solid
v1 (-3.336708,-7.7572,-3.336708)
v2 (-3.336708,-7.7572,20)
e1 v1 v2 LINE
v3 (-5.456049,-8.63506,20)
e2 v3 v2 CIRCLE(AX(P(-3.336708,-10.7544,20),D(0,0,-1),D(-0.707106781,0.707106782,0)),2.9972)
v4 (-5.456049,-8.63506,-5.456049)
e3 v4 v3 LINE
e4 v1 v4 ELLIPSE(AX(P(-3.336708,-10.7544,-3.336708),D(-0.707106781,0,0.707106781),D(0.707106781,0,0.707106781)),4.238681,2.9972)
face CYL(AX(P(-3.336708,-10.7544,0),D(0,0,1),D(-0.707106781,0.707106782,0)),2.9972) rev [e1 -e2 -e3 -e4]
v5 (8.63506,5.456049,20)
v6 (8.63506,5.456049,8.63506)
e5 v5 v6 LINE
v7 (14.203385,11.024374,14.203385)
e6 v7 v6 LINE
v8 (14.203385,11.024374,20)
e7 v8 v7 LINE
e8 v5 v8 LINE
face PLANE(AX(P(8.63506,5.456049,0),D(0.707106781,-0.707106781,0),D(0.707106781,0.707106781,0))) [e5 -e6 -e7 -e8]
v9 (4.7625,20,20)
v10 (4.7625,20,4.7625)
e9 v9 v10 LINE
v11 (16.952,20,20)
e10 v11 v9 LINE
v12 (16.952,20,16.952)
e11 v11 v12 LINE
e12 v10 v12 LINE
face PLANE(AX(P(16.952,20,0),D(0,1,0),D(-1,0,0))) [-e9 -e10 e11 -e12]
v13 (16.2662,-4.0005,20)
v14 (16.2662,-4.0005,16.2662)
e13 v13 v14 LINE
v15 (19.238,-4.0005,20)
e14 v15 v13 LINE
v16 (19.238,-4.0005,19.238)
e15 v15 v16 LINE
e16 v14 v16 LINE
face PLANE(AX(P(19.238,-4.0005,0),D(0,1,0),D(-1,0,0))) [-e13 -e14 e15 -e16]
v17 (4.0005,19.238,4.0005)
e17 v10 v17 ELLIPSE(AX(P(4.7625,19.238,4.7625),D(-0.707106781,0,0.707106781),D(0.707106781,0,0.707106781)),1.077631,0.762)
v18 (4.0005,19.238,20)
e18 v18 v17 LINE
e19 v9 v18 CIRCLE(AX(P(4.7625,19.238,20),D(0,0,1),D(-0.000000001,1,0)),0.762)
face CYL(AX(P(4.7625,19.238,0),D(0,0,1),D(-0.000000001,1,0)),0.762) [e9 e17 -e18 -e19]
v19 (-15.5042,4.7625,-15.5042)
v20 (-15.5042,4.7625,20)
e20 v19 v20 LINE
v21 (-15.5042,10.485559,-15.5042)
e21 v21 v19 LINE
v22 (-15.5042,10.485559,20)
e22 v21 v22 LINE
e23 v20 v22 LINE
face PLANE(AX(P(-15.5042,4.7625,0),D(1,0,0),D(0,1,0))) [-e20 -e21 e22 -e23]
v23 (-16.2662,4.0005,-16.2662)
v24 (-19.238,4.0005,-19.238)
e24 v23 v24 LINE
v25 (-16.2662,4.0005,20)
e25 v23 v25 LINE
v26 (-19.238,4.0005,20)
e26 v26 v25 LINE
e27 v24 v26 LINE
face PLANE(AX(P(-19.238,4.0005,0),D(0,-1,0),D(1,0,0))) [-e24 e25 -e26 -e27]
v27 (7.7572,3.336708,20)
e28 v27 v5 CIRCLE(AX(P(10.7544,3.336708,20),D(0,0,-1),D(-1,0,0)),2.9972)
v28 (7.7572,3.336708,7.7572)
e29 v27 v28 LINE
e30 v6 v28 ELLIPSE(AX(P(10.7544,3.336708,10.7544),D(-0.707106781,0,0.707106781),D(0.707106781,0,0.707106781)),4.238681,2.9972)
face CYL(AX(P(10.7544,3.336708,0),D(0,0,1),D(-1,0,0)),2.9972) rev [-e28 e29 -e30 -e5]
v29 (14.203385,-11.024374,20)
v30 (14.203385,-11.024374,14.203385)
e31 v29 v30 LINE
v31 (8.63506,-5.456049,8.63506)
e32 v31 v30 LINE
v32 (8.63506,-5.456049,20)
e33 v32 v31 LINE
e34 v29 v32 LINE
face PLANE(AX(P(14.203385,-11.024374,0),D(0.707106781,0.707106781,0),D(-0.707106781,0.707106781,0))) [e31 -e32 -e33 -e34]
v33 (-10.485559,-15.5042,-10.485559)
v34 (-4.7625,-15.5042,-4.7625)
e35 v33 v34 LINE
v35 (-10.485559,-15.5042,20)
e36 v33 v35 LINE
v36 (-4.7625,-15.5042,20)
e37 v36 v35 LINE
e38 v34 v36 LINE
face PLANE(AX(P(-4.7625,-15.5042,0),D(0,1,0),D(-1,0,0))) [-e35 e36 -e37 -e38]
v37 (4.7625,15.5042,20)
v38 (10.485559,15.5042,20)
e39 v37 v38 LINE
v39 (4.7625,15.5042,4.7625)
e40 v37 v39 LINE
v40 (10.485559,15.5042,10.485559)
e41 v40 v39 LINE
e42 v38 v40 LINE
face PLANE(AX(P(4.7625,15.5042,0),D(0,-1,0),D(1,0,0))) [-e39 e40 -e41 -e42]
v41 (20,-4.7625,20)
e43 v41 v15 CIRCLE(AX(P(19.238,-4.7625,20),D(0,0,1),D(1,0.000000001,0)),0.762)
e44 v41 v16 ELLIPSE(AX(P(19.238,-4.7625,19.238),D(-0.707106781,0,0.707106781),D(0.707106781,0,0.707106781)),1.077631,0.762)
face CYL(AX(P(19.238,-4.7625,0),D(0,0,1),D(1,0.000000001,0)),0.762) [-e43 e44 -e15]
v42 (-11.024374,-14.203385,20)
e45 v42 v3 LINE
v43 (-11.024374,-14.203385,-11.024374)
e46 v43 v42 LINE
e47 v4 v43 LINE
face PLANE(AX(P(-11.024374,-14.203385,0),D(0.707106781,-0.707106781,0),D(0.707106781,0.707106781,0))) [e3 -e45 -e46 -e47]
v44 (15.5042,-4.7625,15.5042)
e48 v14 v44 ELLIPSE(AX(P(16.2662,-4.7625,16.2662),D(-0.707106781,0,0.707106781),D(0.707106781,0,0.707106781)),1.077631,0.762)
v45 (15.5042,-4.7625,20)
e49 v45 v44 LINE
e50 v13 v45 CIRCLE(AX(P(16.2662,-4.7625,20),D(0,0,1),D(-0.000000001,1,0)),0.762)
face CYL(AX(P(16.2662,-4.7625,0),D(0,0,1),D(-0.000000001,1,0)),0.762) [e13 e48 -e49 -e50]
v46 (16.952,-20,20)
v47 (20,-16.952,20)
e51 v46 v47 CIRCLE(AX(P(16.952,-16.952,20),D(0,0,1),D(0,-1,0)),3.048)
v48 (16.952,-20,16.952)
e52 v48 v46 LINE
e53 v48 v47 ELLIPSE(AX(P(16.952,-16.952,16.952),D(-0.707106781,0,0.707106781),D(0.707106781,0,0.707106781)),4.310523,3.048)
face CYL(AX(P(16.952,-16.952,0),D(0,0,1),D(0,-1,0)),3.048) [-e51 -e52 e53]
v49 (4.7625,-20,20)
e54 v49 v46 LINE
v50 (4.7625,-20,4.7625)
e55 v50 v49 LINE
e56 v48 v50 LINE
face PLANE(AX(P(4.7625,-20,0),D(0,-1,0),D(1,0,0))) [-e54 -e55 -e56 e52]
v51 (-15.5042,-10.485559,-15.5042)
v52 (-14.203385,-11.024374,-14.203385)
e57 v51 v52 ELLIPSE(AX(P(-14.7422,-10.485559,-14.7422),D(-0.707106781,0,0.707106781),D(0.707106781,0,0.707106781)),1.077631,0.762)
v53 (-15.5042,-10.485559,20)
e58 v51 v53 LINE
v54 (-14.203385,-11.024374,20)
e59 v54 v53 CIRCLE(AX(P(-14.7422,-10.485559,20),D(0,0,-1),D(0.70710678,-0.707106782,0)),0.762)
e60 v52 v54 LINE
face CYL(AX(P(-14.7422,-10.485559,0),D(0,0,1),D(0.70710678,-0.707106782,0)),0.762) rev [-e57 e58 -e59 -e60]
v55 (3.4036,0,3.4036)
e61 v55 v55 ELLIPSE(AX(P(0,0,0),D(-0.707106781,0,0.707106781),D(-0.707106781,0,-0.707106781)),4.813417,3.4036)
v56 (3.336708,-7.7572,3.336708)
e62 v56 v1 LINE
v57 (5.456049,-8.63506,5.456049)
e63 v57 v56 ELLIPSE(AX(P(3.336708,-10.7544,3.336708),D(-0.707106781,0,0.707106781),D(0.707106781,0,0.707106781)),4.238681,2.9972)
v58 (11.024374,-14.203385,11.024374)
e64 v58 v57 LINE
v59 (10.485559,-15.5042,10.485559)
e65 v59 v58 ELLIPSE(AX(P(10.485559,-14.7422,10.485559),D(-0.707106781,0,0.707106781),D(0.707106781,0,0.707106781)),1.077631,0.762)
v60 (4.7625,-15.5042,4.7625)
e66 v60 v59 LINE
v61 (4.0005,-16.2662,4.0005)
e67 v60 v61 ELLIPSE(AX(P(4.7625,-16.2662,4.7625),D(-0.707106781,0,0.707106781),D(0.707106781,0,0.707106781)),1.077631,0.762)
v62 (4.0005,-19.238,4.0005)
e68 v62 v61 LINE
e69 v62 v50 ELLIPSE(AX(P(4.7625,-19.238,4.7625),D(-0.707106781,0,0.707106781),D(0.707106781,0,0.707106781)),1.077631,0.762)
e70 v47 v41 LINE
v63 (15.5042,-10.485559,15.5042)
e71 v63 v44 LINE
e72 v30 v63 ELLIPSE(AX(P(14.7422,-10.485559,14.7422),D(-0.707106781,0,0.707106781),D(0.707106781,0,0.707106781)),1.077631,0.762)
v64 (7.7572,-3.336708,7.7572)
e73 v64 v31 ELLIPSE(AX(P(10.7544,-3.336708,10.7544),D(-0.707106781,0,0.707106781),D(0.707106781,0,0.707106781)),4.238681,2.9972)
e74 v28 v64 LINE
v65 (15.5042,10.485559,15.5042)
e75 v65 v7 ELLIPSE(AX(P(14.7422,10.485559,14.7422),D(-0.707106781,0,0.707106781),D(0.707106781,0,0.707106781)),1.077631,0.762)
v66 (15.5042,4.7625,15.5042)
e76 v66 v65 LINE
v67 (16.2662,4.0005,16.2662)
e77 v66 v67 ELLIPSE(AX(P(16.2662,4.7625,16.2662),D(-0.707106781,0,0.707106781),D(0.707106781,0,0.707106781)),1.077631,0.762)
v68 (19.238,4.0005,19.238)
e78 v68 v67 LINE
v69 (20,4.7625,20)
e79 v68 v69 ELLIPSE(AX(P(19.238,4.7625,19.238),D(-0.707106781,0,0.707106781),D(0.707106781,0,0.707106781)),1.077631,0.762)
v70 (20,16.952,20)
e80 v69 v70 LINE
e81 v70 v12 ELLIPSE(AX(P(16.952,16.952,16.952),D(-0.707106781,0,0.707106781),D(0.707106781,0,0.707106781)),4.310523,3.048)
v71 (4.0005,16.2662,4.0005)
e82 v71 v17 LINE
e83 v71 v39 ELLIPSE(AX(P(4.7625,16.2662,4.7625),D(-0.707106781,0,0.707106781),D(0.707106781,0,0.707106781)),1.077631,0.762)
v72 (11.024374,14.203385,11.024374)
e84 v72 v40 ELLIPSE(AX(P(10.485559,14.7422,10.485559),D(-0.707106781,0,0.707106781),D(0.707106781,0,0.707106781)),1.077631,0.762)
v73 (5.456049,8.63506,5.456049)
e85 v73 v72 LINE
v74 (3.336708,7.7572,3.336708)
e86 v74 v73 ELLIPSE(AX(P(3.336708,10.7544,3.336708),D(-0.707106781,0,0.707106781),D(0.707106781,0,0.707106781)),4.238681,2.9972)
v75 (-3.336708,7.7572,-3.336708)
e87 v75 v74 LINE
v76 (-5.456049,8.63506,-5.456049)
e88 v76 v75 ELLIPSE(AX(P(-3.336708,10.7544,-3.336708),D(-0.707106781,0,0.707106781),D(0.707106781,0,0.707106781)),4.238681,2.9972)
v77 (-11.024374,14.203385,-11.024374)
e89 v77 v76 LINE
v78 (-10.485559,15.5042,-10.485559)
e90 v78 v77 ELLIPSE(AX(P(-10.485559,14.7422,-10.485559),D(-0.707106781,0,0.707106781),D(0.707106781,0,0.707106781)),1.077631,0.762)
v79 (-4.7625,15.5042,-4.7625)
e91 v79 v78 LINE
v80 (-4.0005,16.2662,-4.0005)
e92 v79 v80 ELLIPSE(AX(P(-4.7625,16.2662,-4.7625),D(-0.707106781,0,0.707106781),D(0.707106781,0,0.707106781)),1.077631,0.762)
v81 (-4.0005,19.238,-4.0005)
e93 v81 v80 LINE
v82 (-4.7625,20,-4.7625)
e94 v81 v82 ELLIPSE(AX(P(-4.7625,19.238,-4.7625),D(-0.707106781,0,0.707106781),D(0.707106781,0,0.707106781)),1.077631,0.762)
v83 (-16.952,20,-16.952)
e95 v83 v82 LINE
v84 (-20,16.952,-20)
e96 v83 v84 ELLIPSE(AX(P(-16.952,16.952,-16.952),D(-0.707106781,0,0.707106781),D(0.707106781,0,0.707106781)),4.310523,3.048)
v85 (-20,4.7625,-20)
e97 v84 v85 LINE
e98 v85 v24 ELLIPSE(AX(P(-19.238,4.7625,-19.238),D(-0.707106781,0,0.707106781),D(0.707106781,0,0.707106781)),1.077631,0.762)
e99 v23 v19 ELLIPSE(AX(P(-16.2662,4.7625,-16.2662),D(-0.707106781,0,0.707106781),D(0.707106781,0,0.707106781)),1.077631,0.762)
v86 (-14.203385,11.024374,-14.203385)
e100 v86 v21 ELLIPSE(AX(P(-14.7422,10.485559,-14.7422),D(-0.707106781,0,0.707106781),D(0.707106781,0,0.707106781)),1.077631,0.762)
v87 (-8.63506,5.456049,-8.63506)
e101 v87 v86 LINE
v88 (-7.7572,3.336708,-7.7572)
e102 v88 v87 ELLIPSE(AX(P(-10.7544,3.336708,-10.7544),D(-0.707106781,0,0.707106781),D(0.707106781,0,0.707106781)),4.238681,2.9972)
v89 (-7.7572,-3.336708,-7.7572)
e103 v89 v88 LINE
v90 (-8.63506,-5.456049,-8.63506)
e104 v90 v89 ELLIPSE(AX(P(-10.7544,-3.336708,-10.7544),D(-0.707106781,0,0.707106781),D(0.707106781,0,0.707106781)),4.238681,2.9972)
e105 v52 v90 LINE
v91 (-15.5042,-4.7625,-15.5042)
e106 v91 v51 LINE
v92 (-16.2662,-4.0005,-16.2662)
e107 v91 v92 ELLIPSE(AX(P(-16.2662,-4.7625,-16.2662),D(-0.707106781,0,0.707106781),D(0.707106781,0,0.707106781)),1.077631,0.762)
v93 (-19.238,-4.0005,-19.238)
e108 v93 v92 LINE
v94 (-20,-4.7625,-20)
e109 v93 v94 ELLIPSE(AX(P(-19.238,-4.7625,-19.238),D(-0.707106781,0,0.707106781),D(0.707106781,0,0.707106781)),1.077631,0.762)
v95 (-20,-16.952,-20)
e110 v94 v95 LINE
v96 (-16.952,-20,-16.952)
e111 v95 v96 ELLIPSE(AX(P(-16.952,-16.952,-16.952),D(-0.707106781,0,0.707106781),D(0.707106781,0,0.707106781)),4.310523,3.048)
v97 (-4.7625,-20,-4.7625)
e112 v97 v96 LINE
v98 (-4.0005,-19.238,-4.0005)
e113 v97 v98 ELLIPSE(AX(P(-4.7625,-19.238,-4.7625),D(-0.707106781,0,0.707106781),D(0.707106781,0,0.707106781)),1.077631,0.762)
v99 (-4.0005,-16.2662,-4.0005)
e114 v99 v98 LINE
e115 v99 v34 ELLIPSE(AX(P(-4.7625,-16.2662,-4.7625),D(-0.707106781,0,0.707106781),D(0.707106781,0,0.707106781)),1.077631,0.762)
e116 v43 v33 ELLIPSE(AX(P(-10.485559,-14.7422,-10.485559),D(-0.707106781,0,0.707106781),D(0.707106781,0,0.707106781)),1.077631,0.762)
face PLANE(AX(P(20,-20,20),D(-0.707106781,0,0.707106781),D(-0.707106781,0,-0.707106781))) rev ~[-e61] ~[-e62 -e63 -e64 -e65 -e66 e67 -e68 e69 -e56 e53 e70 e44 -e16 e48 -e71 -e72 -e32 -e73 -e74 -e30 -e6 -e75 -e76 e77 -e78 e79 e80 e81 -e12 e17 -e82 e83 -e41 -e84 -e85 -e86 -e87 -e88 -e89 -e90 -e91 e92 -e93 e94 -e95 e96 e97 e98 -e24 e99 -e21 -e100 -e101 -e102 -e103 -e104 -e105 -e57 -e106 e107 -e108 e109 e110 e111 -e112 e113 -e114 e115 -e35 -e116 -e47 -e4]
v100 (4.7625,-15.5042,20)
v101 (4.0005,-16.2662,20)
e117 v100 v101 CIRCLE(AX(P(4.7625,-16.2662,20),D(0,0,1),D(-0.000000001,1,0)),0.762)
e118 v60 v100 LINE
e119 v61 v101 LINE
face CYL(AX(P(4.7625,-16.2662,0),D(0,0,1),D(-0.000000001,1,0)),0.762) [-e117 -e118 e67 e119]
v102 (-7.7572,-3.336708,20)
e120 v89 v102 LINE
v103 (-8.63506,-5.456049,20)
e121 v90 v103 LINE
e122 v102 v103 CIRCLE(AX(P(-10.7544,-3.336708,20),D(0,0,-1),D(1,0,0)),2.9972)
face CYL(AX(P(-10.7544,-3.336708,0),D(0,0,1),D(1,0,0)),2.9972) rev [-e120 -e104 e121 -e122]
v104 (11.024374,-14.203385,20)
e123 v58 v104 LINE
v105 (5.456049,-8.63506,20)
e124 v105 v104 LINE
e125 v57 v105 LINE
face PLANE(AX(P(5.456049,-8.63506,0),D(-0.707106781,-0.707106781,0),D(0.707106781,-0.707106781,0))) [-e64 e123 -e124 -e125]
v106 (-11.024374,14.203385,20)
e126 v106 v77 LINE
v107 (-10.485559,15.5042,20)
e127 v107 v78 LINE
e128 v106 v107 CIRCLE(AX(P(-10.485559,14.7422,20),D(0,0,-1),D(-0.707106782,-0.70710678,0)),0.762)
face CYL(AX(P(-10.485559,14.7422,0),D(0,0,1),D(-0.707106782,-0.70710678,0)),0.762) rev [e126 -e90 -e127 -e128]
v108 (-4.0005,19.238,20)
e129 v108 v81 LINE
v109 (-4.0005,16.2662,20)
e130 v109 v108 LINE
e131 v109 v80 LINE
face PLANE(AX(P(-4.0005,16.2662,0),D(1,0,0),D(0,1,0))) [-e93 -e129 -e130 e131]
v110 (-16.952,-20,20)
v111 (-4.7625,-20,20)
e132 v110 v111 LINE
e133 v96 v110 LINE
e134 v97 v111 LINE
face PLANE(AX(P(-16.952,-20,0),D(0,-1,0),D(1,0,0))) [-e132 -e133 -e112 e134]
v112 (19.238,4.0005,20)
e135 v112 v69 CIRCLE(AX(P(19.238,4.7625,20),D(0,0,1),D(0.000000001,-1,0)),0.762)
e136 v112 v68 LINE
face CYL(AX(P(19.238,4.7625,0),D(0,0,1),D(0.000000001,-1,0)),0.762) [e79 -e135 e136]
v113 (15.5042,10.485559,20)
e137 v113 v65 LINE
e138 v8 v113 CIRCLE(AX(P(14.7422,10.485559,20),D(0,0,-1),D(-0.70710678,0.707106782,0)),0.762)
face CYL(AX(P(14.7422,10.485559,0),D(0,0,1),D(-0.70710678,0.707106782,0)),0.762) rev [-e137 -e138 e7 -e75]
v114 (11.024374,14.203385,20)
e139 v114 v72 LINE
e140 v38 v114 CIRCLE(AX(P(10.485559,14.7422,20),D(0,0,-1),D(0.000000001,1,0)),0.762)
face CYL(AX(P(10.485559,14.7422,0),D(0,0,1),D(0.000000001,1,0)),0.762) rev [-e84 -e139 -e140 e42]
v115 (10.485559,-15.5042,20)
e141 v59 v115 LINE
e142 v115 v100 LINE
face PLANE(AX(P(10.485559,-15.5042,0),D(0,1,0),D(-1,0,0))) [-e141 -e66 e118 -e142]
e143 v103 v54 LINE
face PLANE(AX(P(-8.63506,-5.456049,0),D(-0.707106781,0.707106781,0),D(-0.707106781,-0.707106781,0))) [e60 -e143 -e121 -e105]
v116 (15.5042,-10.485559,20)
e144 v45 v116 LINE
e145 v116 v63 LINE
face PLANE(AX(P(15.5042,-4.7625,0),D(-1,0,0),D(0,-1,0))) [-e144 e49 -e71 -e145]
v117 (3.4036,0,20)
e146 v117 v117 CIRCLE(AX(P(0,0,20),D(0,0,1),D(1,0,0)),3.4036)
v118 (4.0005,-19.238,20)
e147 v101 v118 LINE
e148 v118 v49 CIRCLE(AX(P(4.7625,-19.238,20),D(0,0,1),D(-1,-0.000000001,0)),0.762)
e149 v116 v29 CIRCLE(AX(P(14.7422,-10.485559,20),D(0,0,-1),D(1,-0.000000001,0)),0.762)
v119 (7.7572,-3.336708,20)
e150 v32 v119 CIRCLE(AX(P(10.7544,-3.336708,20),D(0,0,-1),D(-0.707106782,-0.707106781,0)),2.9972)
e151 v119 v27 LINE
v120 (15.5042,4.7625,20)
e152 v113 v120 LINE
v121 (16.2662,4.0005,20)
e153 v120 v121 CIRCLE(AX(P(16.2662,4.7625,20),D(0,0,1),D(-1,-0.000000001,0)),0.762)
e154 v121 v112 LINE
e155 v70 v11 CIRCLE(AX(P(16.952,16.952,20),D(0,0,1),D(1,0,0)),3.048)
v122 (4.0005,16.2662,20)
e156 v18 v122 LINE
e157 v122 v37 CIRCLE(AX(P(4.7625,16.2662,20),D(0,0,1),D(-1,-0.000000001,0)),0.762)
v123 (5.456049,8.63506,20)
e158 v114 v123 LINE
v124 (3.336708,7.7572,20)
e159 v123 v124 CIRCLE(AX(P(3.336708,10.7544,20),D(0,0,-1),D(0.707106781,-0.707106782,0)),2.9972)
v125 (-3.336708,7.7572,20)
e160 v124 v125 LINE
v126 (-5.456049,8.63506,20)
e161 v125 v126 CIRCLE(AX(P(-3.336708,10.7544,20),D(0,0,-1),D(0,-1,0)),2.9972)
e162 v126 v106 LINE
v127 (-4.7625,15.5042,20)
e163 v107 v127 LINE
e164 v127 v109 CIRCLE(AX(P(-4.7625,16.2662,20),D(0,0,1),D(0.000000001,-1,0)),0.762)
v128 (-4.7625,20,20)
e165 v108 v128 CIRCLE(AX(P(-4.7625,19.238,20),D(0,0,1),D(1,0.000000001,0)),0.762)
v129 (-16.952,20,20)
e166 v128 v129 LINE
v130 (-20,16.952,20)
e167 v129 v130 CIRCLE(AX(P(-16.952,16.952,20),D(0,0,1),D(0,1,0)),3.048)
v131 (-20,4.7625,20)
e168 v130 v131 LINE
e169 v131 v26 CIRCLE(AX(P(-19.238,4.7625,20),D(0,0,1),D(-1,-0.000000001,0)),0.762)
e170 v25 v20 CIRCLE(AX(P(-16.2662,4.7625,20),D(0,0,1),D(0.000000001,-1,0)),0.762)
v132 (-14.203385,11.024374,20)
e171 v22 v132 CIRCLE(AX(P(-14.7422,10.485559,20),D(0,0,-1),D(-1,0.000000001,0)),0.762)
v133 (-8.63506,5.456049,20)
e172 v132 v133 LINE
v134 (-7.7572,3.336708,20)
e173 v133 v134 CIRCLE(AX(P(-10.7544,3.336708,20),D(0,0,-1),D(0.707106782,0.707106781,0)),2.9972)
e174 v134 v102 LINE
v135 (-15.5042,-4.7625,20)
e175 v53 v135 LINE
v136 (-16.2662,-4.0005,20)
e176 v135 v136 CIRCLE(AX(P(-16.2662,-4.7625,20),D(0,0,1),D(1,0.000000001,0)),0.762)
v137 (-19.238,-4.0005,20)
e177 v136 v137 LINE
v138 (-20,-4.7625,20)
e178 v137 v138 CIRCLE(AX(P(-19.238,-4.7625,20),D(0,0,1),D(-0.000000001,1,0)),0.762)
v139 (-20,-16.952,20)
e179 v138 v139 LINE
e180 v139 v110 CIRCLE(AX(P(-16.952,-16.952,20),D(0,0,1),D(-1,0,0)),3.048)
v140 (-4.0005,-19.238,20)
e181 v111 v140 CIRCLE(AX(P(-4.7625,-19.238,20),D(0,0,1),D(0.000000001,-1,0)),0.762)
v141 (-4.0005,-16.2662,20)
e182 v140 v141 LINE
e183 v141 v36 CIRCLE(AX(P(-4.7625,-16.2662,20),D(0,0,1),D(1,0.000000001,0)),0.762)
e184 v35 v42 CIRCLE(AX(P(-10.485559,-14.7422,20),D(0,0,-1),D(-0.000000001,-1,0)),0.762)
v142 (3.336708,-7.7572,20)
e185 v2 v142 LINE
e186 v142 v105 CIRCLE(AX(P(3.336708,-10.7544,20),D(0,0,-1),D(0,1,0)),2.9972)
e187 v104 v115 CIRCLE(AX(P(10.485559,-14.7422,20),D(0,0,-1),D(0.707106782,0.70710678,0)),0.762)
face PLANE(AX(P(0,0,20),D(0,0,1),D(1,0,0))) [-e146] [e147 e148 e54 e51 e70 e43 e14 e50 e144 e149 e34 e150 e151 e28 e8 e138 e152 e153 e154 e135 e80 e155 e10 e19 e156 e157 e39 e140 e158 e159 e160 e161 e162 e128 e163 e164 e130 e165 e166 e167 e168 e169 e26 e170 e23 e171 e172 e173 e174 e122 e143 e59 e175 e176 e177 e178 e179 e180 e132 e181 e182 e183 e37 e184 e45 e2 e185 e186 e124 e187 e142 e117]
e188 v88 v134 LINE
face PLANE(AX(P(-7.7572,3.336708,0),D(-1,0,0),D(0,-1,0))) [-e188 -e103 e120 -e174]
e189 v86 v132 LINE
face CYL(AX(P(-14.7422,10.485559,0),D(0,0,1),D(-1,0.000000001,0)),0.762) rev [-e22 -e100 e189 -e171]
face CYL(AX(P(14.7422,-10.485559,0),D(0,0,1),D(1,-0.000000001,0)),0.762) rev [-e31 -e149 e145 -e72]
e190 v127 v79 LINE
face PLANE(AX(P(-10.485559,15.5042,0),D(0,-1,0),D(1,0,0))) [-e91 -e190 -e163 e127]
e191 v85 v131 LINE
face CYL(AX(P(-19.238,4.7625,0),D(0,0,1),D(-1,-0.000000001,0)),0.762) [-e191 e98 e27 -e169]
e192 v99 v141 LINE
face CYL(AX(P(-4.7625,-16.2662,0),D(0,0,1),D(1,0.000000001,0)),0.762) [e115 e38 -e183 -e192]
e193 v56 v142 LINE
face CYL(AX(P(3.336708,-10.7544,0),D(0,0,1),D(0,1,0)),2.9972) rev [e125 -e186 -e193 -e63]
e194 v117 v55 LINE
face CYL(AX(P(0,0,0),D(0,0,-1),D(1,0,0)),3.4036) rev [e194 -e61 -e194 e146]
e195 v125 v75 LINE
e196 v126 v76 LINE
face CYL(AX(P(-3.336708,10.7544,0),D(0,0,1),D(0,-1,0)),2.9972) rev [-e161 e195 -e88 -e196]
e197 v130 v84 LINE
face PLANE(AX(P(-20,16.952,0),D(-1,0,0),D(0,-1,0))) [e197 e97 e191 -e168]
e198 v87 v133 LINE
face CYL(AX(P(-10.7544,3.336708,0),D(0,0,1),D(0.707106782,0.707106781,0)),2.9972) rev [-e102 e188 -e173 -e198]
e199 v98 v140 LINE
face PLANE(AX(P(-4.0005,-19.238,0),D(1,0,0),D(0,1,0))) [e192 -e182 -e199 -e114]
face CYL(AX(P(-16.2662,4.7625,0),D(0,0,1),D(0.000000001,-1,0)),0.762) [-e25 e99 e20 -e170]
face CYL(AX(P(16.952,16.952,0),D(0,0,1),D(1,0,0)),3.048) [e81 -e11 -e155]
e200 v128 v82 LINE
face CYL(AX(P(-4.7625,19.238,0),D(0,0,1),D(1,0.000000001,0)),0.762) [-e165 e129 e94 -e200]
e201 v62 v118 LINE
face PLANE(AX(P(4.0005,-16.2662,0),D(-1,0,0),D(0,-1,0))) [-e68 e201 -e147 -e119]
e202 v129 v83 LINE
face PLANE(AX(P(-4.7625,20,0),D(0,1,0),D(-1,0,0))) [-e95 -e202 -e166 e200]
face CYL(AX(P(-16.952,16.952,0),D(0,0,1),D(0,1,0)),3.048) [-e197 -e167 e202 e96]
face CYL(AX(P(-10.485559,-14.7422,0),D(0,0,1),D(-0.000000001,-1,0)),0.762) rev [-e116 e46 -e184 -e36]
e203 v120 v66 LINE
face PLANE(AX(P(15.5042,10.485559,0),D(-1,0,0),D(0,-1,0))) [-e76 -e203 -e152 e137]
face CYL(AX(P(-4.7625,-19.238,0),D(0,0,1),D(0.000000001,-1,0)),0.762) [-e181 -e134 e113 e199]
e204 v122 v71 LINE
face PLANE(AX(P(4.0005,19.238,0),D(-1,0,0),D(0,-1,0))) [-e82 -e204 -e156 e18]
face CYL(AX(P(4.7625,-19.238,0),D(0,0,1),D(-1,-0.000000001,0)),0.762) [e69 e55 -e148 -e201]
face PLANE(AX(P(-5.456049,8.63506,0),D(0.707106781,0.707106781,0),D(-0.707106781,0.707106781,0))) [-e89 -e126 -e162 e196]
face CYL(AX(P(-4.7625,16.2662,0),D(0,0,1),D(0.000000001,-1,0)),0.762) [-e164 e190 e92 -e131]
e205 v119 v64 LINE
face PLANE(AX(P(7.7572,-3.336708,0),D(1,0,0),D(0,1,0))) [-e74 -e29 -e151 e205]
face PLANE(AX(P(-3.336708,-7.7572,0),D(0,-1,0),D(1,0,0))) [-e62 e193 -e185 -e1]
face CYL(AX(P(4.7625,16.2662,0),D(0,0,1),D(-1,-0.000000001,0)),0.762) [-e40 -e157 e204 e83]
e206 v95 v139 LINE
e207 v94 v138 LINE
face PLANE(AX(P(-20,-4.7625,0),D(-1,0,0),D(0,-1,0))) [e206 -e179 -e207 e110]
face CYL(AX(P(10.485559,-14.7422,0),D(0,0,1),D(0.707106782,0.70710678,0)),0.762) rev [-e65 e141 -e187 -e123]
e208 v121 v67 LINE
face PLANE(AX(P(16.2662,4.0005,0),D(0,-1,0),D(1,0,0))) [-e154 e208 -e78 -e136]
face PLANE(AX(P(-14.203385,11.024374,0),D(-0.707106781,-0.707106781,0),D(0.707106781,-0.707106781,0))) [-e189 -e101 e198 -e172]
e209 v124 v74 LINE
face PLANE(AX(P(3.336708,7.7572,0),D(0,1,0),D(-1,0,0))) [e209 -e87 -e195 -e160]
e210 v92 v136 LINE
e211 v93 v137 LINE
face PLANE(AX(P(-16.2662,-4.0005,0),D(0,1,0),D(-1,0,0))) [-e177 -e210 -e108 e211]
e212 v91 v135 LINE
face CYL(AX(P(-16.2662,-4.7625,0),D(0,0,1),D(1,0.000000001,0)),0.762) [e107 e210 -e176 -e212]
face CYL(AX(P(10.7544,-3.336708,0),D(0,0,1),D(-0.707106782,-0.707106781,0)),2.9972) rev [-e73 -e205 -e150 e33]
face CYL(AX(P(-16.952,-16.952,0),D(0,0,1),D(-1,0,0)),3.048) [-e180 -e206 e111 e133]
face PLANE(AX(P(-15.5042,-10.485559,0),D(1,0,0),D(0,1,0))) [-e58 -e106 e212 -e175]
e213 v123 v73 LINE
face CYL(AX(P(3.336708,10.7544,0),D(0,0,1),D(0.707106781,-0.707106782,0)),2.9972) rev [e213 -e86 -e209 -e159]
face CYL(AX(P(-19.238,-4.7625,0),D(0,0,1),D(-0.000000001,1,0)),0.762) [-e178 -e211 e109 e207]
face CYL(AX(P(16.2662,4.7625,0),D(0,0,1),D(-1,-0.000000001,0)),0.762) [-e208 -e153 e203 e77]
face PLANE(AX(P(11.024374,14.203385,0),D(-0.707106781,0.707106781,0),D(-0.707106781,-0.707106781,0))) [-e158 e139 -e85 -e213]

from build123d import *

# Parameters (mm, degrees)
SKETCH1_R          = 3.4036
EXTRUDE1_DEPTH     = 20
CUT_EXTRUDE1_DEPTH = 49.989794856


with BuildPart() as part:
    # Sketch1 → Extrude1 (new, symmetric)
    with BuildSketch(Plane.XY):
        with BuildLine():
            Line((-20, 16.952), (-20, 4.7625))
            ThreePointArc((-20, 4.7625), (-19.776815367, 4.223684633), (-19.238, 4.0005))
            Line((-19.238, 4.0005), (-16.2662, 4.0005))
            ThreePointArc((-16.2662, 4.0005), (-15.727384633, 4.223684633), (-15.5042, 4.7625))
            Line((-15.5042, 4.7625), (-15.5042, 10.485558599))
            ThreePointArc((-15.5042, 10.485558599), (-15.033804775, 11.189554802), (-14.203384633, 11.024373966))
            Line((-14.203384633, 11.024373966), (-8.635059555, 5.456048889))
            ThreePointArc((-8.635059555, 5.456048889), (-7.985348265, 4.483687227), (-7.7572, 3.336708444))
            Line((-7.7572, 3.336708444), (-7.7572, -3.336708444))
            ThreePointArc((-7.7572, -3.336708444), (-7.985348265, -4.483687227), (-8.635059555, -5.456048889))
            Line((-8.635059555, -5.456048889), (-14.203384633, -11.024373966))
            ThreePointArc((-14.203384633, -11.024373966), (-15.033804775, -11.189554802), (-15.5042, -10.485558599))
            Line((-15.5042, -10.485558599), (-15.5042, -4.7625))
            ThreePointArc((-15.5042, -4.7625), (-15.727384633, -4.223684633), (-16.2662, -4.0005))
            Line((-16.2662, -4.0005), (-19.238, -4.0005))
            ThreePointArc((-19.238, -4.0005), (-19.776815367, -4.223684633), (-20, -4.7625))
            Line((-20, -4.7625), (-20, -16.952))
            ThreePointArc((-20, -16.952), (-19.107261469, -19.107261469), (-16.952, -20))
            Line((-16.952, -20), (-4.7625, -20))
            ThreePointArc((-4.7625, -20), (-4.223684633, -19.776815367), (-4.0005, -19.238))
            Line((-4.0005, -19.238), (-4.0005, -16.2662))
            ThreePointArc((-4.0005, -16.2662), (-4.223684633, -15.727384633), (-4.7625, -15.5042))
            Line((-4.7625, -15.5042), (-10.485558599, -15.5042))
            ThreePointArc((-10.485558599, -15.5042), (-11.189554802, -15.033804775), (-11.024373966, -14.203384633))
            Line((-11.024373966, -14.203384633), (-5.456048889, -8.635059555))
            ThreePointArc((-5.456048889, -8.635059555), (-4.483687227, -7.985348265), (-3.336708444, -7.7572))
            Line((-3.336708444, -7.7572), (3.336708444, -7.7572))
            ThreePointArc((3.336708444, -7.7572), (4.483687227, -7.985348265), (5.456048889, -8.635059555))
            Line((5.456048889, -8.635059555), (11.024373966, -14.203384633))
            ThreePointArc((11.024373966, -14.203384633), (11.189554802, -15.033804775), (10.485558599, -15.5042))
            Line((10.485558599, -15.5042), (4.7625, -15.5042))
            ThreePointArc((4.7625, -15.5042), (4.223684633, -15.727384633), (4.0005, -16.2662))
            Line((4.0005, -16.2662), (4.0005, -19.238))
            ThreePointArc((4.0005, -19.238), (4.223684633, -19.776815367), (4.7625, -20))
            Line((4.7625, -20), (16.952, -20))
            ThreePointArc((16.952, -20), (19.107261469, -19.107261469), (20, -16.952))
            Line((20, -16.952), (20, -4.7625))
            ThreePointArc((20, -4.7625), (19.776815367, -4.223684633), (19.238, -4.0005))
            Line((19.238, -4.0005), (16.2662, -4.0005))
            ThreePointArc((16.2662, -4.0005), (15.727384633, -4.223684633), (15.5042, -4.7625))
            Line((15.5042, -4.7625), (15.5042, -10.485558599))
            ThreePointArc((15.5042, -10.485558599), (15.033804775, -11.189554802), (14.203384633, -11.024373966))
            Line((14.203384633, -11.024373966), (8.635059555, -5.456048889))
            ThreePointArc((8.635059555, -5.456048889), (7.985348265, -4.483687227), (7.7572, -3.336708444))
            Line((7.7572, -3.336708444), (7.7572, 3.336708444))
            ThreePointArc((7.7572, 3.336708444), (7.985348265, 4.483687227), (8.635059555, 5.456048889))
            Line((8.635059555, 5.456048889), (14.203384633, 11.024373966))
            ThreePointArc((14.203384633, 11.024373966), (15.033804775, 11.189554802), (15.5042, 10.485558599))
            Line((15.5042, 10.485558599), (15.5042, 4.7625))
            ThreePointArc((15.5042, 4.7625), (15.727384633, 4.223684633), (16.2662, 4.0005))
            Line((16.2662, 4.0005), (19.238, 4.0005))
            ThreePointArc((19.238, 4.0005), (19.776815367, 4.223684633), (20, 4.7625))
            Line((20, 4.7625), (20, 16.952))
            ThreePointArc((20, 16.952), (19.107261469, 19.107261469), (16.952, 20))
            Line((16.952, 20), (4.7625, 20))
            ThreePointArc((4.7625, 20), (4.223684633, 19.776815367), (4.0005, 19.238))
            Line((4.0005, 19.238), (4.0005, 16.2662))
            ThreePointArc((4.0005, 16.2662), (4.223684633, 15.727384633), (4.7625, 15.5042))
            Line((4.7625, 15.5042), (10.485558599, 15.5042))
            ThreePointArc((10.485558599, 15.5042), (11.189554802, 15.033804775), (11.024373966, 14.203384633))
            Line((11.024373966, 14.203384633), (5.456048889, 8.635059555))
            ThreePointArc((5.456048889, 8.635059555), (4.483687227, 7.985348265), (3.336708444, 7.7572))
            Line((3.336708444, 7.7572), (-3.336708444, 7.7572))
            ThreePointArc((-3.336708444, 7.7572), (-4.483687227, 7.985348265), (-5.456048889, 8.635059555))
            Line((-5.456048889, 8.635059555), (-11.024373966, 14.203384633))
            ThreePointArc((-11.024373966, 14.203384633), (-11.189554802, 15.033804775), (-10.485558599, 15.5042))
            Line((-10.485558599, 15.5042), (-4.7625, 15.5042))
            ThreePointArc((-4.7625, 15.5042), (-4.223684633, 15.727384633), (-4.0005, 16.2662))
            Line((-4.0005, 16.2662), (-4.0005, 19.238))
            ThreePointArc((-4.0005, 19.238), (-4.223684633, 19.776815367), (-4.7625, 20))
            Line((-4.7625, 20), (-16.952, 20))
            ThreePointArc((-16.952, 20), (-19.107261469, 19.107261469), (-20, 16.952))
        make_face()
        Circle(SKETCH1_R, mode=Mode.SUBTRACT)
    extrude(amount=EXTRUDE1_DEPTH, both=True)

    # Sketch3 → Cut-Extrude1 (cut, through all)
    with BuildSketch(Plane.XZ.offset(20)):
        Polygon((20, 20), (-20, -20), (20, -20), align=None)
    extrude(amount=-CUT_EXTRUDE1_DEPTH, mode=Mode.SUBTRACT)


solid = part.part
